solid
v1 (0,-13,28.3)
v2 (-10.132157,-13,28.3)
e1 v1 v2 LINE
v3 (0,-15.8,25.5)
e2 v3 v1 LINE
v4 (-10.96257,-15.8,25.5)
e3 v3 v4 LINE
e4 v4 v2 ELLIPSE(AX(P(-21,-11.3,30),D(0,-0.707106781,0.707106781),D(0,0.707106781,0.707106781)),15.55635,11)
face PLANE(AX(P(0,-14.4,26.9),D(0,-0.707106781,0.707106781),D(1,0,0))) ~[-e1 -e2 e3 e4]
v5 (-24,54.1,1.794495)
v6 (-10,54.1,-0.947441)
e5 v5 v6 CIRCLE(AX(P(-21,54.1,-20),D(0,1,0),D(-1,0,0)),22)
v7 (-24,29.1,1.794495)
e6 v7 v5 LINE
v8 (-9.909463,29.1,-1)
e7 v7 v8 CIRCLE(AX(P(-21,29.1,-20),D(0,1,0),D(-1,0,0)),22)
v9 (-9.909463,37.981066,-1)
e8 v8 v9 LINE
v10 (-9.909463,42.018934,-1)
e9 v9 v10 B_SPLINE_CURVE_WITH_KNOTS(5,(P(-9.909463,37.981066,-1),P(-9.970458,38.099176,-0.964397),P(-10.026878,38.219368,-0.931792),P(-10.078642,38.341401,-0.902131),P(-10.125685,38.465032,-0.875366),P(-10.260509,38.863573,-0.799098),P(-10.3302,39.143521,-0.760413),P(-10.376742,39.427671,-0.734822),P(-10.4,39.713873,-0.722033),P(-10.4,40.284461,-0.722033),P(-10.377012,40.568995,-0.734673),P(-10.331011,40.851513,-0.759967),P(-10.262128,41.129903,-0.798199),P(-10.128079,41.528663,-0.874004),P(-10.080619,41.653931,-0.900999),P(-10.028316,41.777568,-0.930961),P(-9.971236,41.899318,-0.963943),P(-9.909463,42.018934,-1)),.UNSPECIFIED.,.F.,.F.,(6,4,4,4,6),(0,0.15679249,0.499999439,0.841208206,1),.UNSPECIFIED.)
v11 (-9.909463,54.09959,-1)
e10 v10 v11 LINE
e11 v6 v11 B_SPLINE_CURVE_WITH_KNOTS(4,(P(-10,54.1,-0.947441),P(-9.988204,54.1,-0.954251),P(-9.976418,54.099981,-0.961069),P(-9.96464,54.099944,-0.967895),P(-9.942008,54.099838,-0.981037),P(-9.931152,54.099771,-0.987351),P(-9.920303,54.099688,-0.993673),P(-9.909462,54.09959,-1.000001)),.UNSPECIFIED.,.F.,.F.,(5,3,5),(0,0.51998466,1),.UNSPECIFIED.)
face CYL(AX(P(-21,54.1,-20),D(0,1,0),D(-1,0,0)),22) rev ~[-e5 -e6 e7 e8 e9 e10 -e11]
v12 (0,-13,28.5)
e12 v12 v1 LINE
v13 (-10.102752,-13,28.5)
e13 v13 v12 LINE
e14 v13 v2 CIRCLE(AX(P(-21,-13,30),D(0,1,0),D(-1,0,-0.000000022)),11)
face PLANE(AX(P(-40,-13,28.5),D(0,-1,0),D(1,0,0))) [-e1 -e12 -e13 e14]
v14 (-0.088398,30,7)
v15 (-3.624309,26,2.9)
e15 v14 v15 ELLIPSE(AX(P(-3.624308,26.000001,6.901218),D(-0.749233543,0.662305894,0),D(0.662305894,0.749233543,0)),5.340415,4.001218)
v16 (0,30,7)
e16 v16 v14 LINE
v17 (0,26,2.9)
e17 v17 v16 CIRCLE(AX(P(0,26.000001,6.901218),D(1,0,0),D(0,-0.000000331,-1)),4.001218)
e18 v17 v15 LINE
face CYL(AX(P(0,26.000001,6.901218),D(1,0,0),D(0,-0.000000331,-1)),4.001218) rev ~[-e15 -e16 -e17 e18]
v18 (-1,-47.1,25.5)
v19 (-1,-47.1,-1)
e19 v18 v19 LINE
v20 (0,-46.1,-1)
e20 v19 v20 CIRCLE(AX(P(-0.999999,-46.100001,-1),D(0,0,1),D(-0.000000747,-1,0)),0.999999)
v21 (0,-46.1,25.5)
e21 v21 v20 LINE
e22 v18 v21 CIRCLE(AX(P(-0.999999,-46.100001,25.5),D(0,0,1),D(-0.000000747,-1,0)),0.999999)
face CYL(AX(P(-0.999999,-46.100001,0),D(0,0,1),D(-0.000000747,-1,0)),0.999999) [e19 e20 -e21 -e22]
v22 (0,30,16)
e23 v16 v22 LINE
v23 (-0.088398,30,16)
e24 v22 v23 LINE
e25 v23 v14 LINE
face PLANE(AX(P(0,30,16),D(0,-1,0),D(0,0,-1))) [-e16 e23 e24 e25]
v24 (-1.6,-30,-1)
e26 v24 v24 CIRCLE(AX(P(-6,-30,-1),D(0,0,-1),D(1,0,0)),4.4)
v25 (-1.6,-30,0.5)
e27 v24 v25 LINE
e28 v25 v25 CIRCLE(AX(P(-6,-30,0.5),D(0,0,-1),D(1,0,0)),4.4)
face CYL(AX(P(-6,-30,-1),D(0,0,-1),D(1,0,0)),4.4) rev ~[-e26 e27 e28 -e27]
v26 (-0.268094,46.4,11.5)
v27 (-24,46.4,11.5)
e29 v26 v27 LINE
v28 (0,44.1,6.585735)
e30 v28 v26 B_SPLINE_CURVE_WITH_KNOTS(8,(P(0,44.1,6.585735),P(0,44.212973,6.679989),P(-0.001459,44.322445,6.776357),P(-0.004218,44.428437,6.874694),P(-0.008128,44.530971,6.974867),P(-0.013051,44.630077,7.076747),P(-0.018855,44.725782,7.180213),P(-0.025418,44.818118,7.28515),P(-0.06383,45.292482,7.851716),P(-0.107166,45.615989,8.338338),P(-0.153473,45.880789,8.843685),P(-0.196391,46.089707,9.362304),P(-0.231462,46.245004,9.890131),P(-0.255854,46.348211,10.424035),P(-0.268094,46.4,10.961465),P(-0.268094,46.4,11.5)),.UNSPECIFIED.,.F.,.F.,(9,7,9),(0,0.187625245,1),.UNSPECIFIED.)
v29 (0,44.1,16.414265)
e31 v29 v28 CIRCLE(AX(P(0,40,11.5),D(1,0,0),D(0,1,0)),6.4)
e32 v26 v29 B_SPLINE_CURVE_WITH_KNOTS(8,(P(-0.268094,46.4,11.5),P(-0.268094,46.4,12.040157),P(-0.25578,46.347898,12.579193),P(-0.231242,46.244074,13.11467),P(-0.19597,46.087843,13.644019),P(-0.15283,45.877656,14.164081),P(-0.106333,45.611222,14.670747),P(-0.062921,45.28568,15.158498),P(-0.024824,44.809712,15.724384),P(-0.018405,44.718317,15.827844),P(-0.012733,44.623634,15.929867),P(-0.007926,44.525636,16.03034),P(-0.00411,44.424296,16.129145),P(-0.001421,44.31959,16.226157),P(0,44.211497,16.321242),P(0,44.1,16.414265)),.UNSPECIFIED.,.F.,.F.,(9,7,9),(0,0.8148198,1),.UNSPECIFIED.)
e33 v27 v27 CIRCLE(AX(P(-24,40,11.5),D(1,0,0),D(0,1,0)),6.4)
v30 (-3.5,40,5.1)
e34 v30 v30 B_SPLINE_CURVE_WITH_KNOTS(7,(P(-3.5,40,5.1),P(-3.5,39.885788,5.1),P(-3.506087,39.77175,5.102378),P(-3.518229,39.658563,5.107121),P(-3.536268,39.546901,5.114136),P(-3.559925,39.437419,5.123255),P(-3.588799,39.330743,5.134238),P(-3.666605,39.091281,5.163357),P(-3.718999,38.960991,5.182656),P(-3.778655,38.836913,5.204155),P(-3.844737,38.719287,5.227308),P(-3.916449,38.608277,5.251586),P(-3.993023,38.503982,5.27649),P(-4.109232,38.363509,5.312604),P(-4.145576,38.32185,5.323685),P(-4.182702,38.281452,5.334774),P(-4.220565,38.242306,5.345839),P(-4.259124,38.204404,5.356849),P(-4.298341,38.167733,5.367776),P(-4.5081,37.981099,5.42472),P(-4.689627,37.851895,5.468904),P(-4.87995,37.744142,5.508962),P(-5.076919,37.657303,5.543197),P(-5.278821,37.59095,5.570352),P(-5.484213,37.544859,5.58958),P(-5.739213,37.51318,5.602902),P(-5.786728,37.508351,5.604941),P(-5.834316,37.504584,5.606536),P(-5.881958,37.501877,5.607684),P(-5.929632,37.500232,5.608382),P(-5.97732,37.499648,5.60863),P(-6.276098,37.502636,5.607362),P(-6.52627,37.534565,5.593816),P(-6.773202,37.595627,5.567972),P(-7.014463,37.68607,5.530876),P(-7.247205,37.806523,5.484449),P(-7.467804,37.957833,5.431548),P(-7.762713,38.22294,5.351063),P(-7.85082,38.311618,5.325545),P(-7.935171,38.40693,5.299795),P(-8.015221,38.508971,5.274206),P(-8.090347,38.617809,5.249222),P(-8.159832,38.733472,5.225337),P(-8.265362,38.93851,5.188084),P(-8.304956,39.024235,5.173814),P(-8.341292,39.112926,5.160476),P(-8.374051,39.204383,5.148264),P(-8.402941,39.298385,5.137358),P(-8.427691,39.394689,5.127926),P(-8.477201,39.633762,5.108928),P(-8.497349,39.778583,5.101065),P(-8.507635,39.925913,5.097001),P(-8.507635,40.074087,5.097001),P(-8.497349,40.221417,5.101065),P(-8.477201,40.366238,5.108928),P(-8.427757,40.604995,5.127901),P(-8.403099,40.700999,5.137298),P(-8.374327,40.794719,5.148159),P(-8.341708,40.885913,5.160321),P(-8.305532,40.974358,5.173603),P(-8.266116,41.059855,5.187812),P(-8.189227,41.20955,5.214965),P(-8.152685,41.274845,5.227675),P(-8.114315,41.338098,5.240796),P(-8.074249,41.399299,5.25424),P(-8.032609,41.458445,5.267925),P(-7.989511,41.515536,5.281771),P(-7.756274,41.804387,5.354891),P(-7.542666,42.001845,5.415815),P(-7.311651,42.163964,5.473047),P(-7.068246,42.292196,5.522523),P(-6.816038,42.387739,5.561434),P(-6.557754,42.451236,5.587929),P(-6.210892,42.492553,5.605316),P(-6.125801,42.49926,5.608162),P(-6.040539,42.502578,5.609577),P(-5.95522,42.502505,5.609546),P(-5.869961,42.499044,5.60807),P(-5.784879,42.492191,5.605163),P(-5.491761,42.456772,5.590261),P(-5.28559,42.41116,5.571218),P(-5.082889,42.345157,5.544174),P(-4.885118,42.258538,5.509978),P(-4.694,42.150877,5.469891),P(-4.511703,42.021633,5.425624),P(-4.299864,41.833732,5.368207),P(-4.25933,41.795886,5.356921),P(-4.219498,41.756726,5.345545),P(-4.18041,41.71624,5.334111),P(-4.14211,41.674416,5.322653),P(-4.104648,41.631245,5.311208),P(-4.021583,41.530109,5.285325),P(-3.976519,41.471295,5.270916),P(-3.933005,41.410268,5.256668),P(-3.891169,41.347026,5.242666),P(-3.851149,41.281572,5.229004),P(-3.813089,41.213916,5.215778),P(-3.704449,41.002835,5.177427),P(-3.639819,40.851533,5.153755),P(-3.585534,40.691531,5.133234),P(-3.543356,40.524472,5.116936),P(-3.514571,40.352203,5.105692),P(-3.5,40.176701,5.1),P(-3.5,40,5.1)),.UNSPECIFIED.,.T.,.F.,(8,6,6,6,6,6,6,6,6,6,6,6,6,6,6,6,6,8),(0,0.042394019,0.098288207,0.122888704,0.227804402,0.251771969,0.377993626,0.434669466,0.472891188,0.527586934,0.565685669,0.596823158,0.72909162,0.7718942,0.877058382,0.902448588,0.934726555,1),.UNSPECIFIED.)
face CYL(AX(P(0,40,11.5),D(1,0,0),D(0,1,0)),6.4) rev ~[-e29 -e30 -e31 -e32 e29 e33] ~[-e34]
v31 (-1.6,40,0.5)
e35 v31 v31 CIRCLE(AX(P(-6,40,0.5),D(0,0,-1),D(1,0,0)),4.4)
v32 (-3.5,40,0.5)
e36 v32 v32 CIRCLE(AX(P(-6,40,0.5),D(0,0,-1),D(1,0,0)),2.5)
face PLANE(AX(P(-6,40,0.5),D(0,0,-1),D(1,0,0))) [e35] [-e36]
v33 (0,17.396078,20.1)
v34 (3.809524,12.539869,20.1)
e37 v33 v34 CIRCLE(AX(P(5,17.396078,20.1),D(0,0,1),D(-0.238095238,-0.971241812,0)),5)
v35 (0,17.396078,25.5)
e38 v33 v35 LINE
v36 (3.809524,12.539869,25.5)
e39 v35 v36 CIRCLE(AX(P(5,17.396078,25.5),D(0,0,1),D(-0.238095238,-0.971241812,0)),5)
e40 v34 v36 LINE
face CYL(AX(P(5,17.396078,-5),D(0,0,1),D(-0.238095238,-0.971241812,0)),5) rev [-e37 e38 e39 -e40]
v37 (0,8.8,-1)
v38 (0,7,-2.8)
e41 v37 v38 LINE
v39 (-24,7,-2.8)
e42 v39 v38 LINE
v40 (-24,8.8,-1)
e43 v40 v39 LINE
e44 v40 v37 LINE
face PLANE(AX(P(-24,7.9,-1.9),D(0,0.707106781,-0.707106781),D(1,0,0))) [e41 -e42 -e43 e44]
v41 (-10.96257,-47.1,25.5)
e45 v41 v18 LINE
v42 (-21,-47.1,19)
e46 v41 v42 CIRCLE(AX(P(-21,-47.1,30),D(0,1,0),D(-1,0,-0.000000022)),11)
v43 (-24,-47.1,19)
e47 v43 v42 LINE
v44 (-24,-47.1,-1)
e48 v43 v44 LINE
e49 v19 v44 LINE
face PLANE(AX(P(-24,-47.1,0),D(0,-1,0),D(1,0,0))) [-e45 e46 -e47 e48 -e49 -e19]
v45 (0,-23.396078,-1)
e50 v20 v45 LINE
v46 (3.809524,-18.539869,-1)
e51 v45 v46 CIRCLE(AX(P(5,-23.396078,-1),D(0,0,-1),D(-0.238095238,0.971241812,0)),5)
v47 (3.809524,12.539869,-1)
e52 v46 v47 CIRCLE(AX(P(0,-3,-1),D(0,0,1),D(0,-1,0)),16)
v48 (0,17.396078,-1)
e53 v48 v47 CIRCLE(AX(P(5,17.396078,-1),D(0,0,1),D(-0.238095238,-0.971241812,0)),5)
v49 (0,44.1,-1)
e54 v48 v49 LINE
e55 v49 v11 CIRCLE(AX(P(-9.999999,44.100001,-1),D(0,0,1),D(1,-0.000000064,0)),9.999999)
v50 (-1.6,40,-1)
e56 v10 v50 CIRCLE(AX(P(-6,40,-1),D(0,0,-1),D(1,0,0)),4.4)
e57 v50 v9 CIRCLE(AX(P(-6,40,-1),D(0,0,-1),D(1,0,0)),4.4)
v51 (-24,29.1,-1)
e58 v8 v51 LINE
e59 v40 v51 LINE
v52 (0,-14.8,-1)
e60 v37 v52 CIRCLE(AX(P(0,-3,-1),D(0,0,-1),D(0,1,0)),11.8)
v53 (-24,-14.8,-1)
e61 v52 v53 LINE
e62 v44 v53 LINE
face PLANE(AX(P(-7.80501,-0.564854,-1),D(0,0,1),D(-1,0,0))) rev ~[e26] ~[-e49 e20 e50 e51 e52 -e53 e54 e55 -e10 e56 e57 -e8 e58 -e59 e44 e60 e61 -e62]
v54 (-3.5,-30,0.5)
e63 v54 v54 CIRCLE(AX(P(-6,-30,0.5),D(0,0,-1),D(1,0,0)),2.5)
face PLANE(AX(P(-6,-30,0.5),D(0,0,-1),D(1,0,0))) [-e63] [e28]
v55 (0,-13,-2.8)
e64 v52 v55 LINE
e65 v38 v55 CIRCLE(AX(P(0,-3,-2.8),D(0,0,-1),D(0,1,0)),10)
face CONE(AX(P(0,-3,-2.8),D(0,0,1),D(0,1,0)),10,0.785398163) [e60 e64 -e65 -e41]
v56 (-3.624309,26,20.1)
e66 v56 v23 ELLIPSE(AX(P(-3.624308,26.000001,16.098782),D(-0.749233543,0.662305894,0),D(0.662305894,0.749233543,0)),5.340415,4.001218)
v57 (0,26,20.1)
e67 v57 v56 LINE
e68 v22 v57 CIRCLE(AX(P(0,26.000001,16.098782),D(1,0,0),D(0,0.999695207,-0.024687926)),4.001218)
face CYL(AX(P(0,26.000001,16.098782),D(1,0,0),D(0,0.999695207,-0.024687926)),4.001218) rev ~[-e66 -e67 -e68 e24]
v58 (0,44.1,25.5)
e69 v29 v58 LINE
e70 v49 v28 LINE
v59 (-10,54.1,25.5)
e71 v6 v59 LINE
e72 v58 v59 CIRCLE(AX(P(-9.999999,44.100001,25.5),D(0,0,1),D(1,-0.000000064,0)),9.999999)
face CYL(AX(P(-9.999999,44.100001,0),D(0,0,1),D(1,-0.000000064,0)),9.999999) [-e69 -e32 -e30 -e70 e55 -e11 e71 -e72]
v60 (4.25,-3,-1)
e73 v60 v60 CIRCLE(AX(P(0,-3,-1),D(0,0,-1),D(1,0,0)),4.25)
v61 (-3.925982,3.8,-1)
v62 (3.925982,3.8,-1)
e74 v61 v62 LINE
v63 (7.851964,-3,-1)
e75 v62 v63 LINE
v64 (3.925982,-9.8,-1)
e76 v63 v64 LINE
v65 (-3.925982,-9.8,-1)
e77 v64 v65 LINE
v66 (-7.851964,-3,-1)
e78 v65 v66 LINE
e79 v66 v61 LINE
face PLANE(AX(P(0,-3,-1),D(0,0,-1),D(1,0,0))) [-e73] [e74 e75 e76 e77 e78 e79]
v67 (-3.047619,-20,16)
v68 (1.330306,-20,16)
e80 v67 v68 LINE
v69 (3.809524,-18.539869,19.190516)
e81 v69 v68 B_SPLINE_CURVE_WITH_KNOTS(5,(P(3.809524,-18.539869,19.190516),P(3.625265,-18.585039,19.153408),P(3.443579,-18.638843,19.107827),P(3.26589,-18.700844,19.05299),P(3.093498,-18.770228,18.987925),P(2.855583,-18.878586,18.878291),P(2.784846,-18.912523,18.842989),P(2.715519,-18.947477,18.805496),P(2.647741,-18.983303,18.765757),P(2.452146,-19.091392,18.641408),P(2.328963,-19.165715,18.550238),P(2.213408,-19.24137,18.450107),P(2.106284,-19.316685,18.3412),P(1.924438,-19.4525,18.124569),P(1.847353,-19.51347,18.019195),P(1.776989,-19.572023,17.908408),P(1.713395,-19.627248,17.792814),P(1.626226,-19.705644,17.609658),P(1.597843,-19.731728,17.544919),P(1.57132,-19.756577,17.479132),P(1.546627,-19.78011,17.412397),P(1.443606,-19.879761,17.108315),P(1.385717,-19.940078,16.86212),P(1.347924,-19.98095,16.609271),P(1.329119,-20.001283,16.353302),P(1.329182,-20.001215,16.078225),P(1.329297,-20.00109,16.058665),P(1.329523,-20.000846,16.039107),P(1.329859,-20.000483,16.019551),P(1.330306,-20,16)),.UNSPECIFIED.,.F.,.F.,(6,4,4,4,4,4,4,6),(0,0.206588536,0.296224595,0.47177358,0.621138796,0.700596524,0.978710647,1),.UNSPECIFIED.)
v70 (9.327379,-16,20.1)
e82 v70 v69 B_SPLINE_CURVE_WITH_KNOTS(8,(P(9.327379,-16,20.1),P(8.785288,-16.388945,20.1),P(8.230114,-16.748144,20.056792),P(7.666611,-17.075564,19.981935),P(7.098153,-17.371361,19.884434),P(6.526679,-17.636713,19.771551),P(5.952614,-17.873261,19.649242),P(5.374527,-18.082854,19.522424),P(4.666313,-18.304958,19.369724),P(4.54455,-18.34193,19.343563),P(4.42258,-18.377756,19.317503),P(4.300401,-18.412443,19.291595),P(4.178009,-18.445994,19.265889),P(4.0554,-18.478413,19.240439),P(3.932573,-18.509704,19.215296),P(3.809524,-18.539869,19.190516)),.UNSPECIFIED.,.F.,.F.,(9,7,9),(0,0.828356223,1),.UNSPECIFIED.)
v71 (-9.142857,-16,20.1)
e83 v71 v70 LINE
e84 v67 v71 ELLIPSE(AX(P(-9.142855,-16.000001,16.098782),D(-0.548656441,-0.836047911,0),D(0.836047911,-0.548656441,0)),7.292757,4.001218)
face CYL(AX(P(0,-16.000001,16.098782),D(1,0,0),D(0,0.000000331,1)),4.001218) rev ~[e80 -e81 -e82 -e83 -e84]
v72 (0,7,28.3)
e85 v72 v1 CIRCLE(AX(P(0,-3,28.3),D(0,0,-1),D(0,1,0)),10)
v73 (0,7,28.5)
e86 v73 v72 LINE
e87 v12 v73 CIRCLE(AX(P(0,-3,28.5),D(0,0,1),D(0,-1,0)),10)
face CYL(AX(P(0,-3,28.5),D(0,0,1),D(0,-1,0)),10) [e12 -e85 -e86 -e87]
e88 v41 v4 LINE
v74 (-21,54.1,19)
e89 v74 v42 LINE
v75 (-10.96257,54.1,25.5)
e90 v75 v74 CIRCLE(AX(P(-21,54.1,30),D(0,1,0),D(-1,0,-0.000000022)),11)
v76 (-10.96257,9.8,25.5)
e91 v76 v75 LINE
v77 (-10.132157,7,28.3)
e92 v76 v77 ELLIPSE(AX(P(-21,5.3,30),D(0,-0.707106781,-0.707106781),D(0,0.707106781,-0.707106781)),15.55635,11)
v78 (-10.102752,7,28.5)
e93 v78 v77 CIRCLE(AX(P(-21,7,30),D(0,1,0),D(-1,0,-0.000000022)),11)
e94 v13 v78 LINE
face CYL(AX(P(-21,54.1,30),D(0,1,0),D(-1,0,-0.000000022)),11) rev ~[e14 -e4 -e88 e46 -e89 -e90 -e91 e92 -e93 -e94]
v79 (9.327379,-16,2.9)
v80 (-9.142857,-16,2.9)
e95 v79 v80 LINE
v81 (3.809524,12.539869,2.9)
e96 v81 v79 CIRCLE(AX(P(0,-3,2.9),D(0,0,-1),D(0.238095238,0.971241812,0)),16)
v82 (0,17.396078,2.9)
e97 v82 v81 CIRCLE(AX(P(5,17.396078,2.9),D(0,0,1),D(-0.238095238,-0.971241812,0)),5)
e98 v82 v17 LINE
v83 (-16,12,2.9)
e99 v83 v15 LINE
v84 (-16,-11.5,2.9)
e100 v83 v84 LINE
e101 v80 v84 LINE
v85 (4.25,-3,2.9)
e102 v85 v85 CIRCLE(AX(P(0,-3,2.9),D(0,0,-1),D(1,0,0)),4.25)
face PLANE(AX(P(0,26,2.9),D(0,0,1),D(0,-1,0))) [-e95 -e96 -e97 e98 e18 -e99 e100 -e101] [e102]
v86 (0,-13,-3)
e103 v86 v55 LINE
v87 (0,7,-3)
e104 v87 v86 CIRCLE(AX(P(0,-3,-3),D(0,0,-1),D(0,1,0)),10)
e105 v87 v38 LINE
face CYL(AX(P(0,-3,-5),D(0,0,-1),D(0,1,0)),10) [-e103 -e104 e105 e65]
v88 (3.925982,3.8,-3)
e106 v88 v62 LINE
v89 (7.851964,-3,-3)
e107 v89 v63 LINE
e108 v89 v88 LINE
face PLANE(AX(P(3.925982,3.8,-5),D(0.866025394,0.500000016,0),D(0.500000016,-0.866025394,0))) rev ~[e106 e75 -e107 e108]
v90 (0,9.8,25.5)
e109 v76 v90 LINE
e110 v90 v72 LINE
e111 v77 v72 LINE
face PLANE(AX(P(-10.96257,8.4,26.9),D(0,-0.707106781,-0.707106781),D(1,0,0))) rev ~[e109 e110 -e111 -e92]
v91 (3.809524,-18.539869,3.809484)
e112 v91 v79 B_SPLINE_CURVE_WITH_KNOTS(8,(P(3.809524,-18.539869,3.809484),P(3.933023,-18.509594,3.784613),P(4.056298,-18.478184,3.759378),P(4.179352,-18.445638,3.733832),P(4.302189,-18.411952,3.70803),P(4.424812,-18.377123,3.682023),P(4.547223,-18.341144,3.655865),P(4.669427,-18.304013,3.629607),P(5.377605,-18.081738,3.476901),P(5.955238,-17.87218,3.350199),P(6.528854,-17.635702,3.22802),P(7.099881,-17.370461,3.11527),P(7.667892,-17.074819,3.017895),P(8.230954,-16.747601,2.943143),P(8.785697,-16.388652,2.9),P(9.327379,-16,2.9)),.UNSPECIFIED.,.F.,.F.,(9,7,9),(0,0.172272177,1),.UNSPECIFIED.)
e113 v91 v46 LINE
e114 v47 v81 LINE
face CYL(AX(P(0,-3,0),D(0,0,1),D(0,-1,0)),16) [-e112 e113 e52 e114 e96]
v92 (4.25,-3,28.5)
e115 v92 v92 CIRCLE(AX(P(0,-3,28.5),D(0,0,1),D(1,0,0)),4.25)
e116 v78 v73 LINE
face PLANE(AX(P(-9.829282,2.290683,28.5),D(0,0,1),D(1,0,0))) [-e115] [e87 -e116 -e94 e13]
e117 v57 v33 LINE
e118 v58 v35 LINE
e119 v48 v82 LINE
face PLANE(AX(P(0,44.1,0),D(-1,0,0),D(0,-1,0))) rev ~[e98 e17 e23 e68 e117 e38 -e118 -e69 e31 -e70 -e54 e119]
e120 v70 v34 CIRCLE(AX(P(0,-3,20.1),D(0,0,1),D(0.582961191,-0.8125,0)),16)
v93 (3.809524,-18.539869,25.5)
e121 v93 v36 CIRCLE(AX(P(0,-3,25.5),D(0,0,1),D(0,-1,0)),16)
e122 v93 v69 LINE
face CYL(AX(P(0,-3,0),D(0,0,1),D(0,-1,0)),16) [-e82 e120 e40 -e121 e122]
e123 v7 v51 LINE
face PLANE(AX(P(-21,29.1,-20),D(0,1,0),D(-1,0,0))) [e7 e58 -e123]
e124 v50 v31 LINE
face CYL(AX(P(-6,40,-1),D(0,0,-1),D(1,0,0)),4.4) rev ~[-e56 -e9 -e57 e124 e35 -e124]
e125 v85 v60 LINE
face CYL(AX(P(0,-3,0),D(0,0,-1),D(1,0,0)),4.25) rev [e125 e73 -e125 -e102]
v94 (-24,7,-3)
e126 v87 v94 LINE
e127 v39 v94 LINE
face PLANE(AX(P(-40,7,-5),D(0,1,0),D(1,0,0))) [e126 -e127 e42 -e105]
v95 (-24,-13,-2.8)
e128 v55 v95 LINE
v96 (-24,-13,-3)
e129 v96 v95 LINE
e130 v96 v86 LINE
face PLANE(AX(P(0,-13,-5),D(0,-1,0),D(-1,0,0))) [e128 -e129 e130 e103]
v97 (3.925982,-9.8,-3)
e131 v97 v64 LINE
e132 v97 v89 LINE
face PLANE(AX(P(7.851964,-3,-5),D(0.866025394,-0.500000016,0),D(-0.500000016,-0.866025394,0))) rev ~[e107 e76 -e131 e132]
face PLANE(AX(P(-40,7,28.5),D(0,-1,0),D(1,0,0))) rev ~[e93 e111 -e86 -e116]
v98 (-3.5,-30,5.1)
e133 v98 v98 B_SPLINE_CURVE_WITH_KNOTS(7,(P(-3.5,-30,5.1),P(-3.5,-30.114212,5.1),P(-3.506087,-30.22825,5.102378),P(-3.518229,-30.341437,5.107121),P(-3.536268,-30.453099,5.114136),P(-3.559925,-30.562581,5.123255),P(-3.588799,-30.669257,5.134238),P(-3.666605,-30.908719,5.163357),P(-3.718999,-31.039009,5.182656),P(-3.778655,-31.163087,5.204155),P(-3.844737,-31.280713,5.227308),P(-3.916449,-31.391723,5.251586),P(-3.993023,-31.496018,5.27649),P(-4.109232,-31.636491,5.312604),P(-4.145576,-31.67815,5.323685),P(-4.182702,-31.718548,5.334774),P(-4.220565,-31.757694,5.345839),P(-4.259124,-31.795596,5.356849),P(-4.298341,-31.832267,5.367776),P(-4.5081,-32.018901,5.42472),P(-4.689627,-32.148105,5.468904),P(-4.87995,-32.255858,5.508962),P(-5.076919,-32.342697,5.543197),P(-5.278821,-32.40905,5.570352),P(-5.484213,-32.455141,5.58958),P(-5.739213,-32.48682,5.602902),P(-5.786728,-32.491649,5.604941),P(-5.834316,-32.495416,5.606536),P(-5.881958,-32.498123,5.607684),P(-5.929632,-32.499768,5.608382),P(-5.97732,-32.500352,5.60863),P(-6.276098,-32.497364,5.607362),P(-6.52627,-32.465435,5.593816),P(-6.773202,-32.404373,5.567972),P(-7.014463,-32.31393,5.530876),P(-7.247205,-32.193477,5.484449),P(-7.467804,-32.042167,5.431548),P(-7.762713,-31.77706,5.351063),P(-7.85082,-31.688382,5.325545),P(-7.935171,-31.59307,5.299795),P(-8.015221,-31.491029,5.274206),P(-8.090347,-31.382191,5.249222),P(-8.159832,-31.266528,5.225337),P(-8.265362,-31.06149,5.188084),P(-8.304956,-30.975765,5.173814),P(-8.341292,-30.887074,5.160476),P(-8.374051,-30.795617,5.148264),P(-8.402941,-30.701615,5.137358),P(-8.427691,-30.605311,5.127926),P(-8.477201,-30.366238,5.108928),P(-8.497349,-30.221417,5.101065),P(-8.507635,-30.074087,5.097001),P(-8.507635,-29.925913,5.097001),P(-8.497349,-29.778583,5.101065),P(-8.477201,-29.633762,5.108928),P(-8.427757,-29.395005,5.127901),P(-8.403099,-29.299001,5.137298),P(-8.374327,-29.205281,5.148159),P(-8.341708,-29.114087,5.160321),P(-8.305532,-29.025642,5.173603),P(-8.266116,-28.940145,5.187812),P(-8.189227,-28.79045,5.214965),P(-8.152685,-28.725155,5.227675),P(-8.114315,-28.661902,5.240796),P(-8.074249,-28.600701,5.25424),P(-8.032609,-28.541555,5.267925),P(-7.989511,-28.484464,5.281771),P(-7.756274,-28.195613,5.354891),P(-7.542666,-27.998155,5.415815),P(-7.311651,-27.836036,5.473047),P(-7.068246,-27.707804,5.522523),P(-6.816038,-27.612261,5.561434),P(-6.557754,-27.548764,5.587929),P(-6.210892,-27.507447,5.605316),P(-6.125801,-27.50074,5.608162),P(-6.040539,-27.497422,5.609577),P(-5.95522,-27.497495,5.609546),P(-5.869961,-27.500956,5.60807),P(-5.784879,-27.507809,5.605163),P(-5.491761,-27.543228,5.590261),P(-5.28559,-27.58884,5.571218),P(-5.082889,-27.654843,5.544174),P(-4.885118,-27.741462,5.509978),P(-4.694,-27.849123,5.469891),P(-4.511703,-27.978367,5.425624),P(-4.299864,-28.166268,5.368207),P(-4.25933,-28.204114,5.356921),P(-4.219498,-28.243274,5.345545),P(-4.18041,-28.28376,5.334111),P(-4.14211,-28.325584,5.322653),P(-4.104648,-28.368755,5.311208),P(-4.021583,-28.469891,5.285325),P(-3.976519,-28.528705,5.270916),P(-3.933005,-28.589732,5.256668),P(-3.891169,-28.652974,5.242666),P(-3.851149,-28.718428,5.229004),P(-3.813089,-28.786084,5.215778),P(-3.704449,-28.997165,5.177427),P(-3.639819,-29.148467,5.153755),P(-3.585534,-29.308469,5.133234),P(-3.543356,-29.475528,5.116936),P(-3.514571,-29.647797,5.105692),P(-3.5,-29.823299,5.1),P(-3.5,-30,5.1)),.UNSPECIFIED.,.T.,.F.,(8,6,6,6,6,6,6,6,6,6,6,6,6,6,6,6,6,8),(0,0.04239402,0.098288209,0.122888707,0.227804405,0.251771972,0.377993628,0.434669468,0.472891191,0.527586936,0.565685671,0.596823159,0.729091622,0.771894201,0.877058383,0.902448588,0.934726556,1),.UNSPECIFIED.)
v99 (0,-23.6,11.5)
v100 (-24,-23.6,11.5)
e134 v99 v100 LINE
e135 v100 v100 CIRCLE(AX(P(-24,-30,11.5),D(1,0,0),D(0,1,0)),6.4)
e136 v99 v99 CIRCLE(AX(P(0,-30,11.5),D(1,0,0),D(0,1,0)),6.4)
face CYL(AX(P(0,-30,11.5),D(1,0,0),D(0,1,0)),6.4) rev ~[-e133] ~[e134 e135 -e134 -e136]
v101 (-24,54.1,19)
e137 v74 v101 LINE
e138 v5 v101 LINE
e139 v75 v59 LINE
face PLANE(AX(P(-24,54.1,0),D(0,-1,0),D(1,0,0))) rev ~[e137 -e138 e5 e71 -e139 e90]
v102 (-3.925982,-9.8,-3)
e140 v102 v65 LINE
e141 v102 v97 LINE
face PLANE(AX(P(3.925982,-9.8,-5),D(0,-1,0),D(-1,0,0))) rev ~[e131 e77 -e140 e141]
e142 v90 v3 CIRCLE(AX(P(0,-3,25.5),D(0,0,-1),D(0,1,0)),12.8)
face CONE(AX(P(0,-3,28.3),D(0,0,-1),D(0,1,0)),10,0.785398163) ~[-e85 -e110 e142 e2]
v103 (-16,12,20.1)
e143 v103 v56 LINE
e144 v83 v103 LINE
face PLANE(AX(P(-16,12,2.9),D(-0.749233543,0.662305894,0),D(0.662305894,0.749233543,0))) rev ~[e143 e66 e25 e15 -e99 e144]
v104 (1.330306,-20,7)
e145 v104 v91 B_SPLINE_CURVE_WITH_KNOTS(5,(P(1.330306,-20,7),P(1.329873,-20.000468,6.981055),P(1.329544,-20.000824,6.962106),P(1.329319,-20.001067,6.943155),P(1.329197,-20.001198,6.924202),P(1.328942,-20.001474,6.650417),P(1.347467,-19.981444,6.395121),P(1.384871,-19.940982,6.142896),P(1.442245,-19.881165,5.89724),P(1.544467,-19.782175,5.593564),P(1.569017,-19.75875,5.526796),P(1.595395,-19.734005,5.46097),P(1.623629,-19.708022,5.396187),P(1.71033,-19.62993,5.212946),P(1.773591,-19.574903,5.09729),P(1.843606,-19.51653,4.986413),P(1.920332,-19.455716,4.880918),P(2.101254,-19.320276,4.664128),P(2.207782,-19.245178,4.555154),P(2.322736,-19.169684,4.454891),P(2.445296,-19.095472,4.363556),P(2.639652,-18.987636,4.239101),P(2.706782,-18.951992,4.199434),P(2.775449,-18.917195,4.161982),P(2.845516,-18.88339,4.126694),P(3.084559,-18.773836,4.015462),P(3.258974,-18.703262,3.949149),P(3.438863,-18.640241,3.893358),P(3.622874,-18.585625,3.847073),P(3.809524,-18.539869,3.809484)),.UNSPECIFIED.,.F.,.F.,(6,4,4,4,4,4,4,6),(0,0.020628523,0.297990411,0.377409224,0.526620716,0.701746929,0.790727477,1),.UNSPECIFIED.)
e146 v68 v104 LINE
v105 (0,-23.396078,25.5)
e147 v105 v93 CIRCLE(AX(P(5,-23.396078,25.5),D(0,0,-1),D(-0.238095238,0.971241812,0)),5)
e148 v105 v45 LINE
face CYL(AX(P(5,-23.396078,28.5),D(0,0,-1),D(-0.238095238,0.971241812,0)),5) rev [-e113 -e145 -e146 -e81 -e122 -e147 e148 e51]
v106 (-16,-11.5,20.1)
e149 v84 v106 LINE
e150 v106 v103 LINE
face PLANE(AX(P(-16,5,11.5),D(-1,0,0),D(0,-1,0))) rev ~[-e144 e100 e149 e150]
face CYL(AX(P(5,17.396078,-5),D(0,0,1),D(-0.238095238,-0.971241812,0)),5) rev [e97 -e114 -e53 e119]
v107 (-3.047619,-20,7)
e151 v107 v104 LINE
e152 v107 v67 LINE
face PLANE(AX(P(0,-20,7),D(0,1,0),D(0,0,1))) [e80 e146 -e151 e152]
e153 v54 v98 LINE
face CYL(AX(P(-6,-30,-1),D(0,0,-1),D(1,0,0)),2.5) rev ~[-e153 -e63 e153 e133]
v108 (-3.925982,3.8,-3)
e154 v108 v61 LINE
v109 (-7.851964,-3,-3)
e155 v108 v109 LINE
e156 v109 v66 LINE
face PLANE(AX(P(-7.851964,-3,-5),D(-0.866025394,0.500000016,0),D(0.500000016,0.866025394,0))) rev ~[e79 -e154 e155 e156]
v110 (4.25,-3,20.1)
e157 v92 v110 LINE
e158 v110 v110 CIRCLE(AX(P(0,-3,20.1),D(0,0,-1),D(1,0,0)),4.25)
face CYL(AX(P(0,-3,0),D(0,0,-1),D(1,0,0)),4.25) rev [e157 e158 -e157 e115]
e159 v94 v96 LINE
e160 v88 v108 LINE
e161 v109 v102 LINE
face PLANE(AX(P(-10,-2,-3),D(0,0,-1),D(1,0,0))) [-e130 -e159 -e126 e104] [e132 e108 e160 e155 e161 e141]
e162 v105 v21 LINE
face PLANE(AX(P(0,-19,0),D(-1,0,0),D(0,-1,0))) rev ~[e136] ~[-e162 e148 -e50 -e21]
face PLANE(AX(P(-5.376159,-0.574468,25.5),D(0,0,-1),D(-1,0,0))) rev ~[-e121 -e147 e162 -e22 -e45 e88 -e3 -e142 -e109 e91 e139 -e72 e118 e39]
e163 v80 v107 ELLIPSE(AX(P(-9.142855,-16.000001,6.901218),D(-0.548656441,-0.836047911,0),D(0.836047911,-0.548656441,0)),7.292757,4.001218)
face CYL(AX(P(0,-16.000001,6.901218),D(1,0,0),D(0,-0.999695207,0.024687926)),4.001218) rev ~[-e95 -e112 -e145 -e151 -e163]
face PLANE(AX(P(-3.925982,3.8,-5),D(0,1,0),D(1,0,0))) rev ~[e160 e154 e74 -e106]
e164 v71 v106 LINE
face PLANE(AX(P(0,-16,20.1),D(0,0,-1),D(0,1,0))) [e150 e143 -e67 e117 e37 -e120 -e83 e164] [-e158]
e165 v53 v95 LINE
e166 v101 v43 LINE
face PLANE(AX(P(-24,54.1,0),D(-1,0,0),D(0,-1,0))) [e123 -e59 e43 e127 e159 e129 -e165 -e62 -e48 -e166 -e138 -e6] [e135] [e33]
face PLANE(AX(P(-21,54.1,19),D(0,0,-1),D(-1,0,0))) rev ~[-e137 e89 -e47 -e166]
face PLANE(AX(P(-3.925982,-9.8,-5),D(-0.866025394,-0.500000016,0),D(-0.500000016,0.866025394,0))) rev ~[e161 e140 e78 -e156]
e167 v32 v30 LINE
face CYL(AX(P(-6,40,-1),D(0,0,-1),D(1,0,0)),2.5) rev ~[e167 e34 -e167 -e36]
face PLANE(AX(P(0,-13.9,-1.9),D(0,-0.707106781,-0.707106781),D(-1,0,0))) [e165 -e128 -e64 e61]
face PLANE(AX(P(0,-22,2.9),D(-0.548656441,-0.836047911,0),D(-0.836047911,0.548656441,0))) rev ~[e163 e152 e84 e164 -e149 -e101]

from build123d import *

# Parameters (mm, degrees)
SKETCH_R          = 4.25
PAD_DEPTH         = 28.5
PAD_DEPTH_BACK    = 5
FILLET_R          = 5
SKETCH002_R       = 6.4
POCKET_DEPTH      = 24.001
POCKET_DEPTH_BACK = -16.001
POCKET001_DEPTH   = 3
POCKET002_DEPTH   = 4
POCKET003_DEPTH   = 101.201
POCKET004_DEPTH   = 4
POCKET005_DEPTH   = 16
SKETCH028_R       = 22
POCKET006_DEPTH   = 25
SKETCH031_R       = 2.5
POCKET007_DEPTH   = 9
PAD001_DEPTH      = 17.2
SKETCH038_W       = 50
SKETCH038_H       = 26
POCKET008_DEPTH   = 2
SKETCH039_R       = 4.4
POCKET009_DEPTH   = 1.5
CHAMFER_SIZE      = 1.8
CHAMFER001_SIZE   = 2.8


with BuildPart() as part:
    # Sketch → Pad (new body, two sides)
    with BuildSketch(Plane.XY) as pad_sk:
        with BuildLine():
            ThreePointArc((0, -19), (16, -3), (0, 13))
            Line((0, 44.1), (0, 13))
            ThreePointArc((0, 44.1), (-2.928932, 51.171068), (-10, 54.1))
            Line((-24, 54.1), (-10, 54.1))
            Line((-24, 54.1), (-24, -47.1))
            Line((-24, -47.1), (-1, -47.1))
            ThreePointArc((-1, -47.1), (-0.292893, -46.807107), (0, -46.1))
            Line((0, -19), (0, -46.1))
        make_face()
        with Locations((0, -3)):
            Circle(SKETCH_R, mode=Mode.SUBTRACT)
    extrude(amount=PAD_DEPTH)
    extrude(pad_sk.sketch, amount=-PAD_DEPTH_BACK)

    # Fillet
    fillet_edges = [part.edges().sort_by_distance(p)[0] for p in [
        (0, 13, 11.75),
        (0, -19, 11.75),
    ]]
    fillet(fillet_edges, radius=FILLET_R)

    # Sketch002 → Pocket (cut, two sides)
    with BuildSketch(Plane.YZ) as pocket_sk:
        with Locations((-30, 11.5)):
            Circle(SKETCH002_R)
        with Locations((40, 11.5)):
            Circle(SKETCH002_R)
    extrude(amount=-POCKET_DEPTH, mode=Mode.SUBTRACT)
    extrude(pocket_sk.sketch, amount=-POCKET_DEPTH_BACK, mode=Mode.SUBTRACT)

    # Sketch013 → Pocket001 (cut)
    with BuildSketch(Plane.XY.offset(28.5)):
        with BuildLine():
            ThreePointArc((0, -13), (10, -3), (0, 7))
            Line((-40, 7), (0, 7))
            Line((-40, 7), (-40, 60))
            Line((-40, 60), (30, 60))
            Line((30, 60), (30, -60))
            Line((30, -60), (-40, -60))
            Line((-40, -60), (-40, -13))
            Line((-40, -13), (0, -13))
        make_face()
    extrude(amount=-POCKET001_DEPTH, mode=Mode.SUBTRACT)

    # Sketch024 → Pocket002 (cut)
    with BuildSketch(Plane(origin=(0, 0, -5), x_dir=(1, 0, 0), z_dir=(0, 0, -1))):
        with BuildLine():
            Line((0, 13), (-40, 13))
            Line((-40, 13), (-40, 65))
            Line((-40, 65), (24, 65))
            Line((24, 65), (24, -65))
            Line((24, -65), (-40, -65))
            Line((-40, -7), (-40, -65))
            Line((-40, -7), (0, -7))
            ThreePointArc((0, -7), (10, 3), (0, 13))
        make_face()
    extrude(amount=-POCKET002_DEPTH, mode=Mode.SUBTRACT)

    # Sketch029 → Pocket003 (cut, through all)
    with BuildSketch(Plane(origin=(0, 54.1, 0), x_dir=(-1, 0, 0), z_dir=(0, 1, 0))):
        with BuildLine():
            ThreePointArc((32, 30), (13.221825, 37.778175), (21, 19))
            Line((21, 19), (32, 19))
            Line((32, 30), (32, 19))
        make_face()
    extrude(amount=-POCKET003_DEPTH, mode=Mode.SUBTRACT)

    # Sketch027 → Pocket004 (cut)
    with BuildSketch(Plane(origin=(0, 0, -5), x_dir=(1, 0, 0), z_dir=(0, 0, -1))):
        Polygon((3.925982, 9.8), (-3.925982, 9.8), (-7.851964, 3), (-3.925982, -3.8), (3.925982, -3.8), (7.851964, 3), align=None)
    extrude(amount=-POCKET004_DEPTH, mode=Mode.SUBTRACT)

    # Sketch025 → Pocket005 (cut, symmetric)
    with BuildSketch(Plane.YZ):
        with BuildLine():
            Line((-16, 20.1), (26, 20.1))
            ThreePointArc((30, 16), (28.864001, 18.892928), (26, 20.1))
            Line((30, 16), (30, 7))
            ThreePointArc((26, 2.9), (28.864001, 4.107072), (30, 7))
            Line((26, 2.9), (-16, 2.9))
            ThreePointArc((-20, 7), (-18.864001, 4.107072), (-16, 2.9))
            Line((-20, 7), (-20, 16))
            ThreePointArc((-16, 20.1), (-18.864001, 18.892928), (-20, 16))
        make_face()
    extrude(amount=POCKET005_DEPTH, both=True, mode=Mode.SUBTRACT)

    # Sketch028 → Pocket006 (cut)
    with BuildSketch(Plane(origin=(0, 54.1, 0), x_dir=(-1, 0, 0), z_dir=(0, 1, 0))):
        with Locations((21, -20)):
            Circle(SKETCH028_R)
    extrude(amount=-POCKET006_DEPTH, mode=Mode.SUBTRACT)

    # Sketch031 → Pocket007 (cut)
    with BuildSketch(Plane(origin=(0, 0, -1), x_dir=(1, 0, 0), z_dir=(0, 0, -1))):
        with Locations((-6, 30)):
            Circle(SKETCH031_R)
        with Locations((-6, -40)):
            Circle(SKETCH031_R)
    extrude(amount=-POCKET007_DEPTH, mode=Mode.SUBTRACT)

    # Sketch032 → Pad001 (new body)
    with BuildSketch(Plane.XY.offset(2.9)):
        Polygon((0, -22), (-16, -11.5), (-16, -22), align=None)
        Polygon((-16, 12), (0, 30.1), (-16, 30.1), align=None)
    extrude(amount=PAD001_DEPTH)

    # Sketch038 → Pocket008 (cut)
    with BuildSketch(Plane(origin=(0, 0, -5), x_dir=(1, 0, 0), z_dir=(0, 0, -1))):
        with Locations((-10, 2)):
            Rectangle(SKETCH038_W, SKETCH038_H)
    extrude(amount=-POCKET008_DEPTH, mode=Mode.SUBTRACT)

    # Sketch039 → Pocket009 (cut)
    with BuildSketch(Plane(origin=(0, 0, -1), x_dir=(1, 0, 0), z_dir=(0, 0, -1))):
        with Locations((-6, 30)):
            Circle(SKETCH039_R)
        with Locations((-6, -40)):
            Circle(SKETCH039_R)
    extrude(amount=-POCKET009_DEPTH, mode=Mode.SUBTRACT)

    # Chamfer
    chamfer_edges = [part.edges().sort_by_distance(p)[0] for p in [
        (-12, -13, -1),
        (10, -3, -1),
        (-12, 7, -1),
    ]]
    chamfer(chamfer_edges, length=CHAMFER_SIZE)

    # Chamfer001
    chamfer001_edges = [part.edges().sort_by_distance(p)[0] for p in [
        (-5.481285, 7, 25.5),
        (10, -3, 25.5),
        (-5.481285, -13, 25.5),
    ]]
    chamfer(chamfer001_edges, length=CHAMFER001_SIZE)


solid = part.part
